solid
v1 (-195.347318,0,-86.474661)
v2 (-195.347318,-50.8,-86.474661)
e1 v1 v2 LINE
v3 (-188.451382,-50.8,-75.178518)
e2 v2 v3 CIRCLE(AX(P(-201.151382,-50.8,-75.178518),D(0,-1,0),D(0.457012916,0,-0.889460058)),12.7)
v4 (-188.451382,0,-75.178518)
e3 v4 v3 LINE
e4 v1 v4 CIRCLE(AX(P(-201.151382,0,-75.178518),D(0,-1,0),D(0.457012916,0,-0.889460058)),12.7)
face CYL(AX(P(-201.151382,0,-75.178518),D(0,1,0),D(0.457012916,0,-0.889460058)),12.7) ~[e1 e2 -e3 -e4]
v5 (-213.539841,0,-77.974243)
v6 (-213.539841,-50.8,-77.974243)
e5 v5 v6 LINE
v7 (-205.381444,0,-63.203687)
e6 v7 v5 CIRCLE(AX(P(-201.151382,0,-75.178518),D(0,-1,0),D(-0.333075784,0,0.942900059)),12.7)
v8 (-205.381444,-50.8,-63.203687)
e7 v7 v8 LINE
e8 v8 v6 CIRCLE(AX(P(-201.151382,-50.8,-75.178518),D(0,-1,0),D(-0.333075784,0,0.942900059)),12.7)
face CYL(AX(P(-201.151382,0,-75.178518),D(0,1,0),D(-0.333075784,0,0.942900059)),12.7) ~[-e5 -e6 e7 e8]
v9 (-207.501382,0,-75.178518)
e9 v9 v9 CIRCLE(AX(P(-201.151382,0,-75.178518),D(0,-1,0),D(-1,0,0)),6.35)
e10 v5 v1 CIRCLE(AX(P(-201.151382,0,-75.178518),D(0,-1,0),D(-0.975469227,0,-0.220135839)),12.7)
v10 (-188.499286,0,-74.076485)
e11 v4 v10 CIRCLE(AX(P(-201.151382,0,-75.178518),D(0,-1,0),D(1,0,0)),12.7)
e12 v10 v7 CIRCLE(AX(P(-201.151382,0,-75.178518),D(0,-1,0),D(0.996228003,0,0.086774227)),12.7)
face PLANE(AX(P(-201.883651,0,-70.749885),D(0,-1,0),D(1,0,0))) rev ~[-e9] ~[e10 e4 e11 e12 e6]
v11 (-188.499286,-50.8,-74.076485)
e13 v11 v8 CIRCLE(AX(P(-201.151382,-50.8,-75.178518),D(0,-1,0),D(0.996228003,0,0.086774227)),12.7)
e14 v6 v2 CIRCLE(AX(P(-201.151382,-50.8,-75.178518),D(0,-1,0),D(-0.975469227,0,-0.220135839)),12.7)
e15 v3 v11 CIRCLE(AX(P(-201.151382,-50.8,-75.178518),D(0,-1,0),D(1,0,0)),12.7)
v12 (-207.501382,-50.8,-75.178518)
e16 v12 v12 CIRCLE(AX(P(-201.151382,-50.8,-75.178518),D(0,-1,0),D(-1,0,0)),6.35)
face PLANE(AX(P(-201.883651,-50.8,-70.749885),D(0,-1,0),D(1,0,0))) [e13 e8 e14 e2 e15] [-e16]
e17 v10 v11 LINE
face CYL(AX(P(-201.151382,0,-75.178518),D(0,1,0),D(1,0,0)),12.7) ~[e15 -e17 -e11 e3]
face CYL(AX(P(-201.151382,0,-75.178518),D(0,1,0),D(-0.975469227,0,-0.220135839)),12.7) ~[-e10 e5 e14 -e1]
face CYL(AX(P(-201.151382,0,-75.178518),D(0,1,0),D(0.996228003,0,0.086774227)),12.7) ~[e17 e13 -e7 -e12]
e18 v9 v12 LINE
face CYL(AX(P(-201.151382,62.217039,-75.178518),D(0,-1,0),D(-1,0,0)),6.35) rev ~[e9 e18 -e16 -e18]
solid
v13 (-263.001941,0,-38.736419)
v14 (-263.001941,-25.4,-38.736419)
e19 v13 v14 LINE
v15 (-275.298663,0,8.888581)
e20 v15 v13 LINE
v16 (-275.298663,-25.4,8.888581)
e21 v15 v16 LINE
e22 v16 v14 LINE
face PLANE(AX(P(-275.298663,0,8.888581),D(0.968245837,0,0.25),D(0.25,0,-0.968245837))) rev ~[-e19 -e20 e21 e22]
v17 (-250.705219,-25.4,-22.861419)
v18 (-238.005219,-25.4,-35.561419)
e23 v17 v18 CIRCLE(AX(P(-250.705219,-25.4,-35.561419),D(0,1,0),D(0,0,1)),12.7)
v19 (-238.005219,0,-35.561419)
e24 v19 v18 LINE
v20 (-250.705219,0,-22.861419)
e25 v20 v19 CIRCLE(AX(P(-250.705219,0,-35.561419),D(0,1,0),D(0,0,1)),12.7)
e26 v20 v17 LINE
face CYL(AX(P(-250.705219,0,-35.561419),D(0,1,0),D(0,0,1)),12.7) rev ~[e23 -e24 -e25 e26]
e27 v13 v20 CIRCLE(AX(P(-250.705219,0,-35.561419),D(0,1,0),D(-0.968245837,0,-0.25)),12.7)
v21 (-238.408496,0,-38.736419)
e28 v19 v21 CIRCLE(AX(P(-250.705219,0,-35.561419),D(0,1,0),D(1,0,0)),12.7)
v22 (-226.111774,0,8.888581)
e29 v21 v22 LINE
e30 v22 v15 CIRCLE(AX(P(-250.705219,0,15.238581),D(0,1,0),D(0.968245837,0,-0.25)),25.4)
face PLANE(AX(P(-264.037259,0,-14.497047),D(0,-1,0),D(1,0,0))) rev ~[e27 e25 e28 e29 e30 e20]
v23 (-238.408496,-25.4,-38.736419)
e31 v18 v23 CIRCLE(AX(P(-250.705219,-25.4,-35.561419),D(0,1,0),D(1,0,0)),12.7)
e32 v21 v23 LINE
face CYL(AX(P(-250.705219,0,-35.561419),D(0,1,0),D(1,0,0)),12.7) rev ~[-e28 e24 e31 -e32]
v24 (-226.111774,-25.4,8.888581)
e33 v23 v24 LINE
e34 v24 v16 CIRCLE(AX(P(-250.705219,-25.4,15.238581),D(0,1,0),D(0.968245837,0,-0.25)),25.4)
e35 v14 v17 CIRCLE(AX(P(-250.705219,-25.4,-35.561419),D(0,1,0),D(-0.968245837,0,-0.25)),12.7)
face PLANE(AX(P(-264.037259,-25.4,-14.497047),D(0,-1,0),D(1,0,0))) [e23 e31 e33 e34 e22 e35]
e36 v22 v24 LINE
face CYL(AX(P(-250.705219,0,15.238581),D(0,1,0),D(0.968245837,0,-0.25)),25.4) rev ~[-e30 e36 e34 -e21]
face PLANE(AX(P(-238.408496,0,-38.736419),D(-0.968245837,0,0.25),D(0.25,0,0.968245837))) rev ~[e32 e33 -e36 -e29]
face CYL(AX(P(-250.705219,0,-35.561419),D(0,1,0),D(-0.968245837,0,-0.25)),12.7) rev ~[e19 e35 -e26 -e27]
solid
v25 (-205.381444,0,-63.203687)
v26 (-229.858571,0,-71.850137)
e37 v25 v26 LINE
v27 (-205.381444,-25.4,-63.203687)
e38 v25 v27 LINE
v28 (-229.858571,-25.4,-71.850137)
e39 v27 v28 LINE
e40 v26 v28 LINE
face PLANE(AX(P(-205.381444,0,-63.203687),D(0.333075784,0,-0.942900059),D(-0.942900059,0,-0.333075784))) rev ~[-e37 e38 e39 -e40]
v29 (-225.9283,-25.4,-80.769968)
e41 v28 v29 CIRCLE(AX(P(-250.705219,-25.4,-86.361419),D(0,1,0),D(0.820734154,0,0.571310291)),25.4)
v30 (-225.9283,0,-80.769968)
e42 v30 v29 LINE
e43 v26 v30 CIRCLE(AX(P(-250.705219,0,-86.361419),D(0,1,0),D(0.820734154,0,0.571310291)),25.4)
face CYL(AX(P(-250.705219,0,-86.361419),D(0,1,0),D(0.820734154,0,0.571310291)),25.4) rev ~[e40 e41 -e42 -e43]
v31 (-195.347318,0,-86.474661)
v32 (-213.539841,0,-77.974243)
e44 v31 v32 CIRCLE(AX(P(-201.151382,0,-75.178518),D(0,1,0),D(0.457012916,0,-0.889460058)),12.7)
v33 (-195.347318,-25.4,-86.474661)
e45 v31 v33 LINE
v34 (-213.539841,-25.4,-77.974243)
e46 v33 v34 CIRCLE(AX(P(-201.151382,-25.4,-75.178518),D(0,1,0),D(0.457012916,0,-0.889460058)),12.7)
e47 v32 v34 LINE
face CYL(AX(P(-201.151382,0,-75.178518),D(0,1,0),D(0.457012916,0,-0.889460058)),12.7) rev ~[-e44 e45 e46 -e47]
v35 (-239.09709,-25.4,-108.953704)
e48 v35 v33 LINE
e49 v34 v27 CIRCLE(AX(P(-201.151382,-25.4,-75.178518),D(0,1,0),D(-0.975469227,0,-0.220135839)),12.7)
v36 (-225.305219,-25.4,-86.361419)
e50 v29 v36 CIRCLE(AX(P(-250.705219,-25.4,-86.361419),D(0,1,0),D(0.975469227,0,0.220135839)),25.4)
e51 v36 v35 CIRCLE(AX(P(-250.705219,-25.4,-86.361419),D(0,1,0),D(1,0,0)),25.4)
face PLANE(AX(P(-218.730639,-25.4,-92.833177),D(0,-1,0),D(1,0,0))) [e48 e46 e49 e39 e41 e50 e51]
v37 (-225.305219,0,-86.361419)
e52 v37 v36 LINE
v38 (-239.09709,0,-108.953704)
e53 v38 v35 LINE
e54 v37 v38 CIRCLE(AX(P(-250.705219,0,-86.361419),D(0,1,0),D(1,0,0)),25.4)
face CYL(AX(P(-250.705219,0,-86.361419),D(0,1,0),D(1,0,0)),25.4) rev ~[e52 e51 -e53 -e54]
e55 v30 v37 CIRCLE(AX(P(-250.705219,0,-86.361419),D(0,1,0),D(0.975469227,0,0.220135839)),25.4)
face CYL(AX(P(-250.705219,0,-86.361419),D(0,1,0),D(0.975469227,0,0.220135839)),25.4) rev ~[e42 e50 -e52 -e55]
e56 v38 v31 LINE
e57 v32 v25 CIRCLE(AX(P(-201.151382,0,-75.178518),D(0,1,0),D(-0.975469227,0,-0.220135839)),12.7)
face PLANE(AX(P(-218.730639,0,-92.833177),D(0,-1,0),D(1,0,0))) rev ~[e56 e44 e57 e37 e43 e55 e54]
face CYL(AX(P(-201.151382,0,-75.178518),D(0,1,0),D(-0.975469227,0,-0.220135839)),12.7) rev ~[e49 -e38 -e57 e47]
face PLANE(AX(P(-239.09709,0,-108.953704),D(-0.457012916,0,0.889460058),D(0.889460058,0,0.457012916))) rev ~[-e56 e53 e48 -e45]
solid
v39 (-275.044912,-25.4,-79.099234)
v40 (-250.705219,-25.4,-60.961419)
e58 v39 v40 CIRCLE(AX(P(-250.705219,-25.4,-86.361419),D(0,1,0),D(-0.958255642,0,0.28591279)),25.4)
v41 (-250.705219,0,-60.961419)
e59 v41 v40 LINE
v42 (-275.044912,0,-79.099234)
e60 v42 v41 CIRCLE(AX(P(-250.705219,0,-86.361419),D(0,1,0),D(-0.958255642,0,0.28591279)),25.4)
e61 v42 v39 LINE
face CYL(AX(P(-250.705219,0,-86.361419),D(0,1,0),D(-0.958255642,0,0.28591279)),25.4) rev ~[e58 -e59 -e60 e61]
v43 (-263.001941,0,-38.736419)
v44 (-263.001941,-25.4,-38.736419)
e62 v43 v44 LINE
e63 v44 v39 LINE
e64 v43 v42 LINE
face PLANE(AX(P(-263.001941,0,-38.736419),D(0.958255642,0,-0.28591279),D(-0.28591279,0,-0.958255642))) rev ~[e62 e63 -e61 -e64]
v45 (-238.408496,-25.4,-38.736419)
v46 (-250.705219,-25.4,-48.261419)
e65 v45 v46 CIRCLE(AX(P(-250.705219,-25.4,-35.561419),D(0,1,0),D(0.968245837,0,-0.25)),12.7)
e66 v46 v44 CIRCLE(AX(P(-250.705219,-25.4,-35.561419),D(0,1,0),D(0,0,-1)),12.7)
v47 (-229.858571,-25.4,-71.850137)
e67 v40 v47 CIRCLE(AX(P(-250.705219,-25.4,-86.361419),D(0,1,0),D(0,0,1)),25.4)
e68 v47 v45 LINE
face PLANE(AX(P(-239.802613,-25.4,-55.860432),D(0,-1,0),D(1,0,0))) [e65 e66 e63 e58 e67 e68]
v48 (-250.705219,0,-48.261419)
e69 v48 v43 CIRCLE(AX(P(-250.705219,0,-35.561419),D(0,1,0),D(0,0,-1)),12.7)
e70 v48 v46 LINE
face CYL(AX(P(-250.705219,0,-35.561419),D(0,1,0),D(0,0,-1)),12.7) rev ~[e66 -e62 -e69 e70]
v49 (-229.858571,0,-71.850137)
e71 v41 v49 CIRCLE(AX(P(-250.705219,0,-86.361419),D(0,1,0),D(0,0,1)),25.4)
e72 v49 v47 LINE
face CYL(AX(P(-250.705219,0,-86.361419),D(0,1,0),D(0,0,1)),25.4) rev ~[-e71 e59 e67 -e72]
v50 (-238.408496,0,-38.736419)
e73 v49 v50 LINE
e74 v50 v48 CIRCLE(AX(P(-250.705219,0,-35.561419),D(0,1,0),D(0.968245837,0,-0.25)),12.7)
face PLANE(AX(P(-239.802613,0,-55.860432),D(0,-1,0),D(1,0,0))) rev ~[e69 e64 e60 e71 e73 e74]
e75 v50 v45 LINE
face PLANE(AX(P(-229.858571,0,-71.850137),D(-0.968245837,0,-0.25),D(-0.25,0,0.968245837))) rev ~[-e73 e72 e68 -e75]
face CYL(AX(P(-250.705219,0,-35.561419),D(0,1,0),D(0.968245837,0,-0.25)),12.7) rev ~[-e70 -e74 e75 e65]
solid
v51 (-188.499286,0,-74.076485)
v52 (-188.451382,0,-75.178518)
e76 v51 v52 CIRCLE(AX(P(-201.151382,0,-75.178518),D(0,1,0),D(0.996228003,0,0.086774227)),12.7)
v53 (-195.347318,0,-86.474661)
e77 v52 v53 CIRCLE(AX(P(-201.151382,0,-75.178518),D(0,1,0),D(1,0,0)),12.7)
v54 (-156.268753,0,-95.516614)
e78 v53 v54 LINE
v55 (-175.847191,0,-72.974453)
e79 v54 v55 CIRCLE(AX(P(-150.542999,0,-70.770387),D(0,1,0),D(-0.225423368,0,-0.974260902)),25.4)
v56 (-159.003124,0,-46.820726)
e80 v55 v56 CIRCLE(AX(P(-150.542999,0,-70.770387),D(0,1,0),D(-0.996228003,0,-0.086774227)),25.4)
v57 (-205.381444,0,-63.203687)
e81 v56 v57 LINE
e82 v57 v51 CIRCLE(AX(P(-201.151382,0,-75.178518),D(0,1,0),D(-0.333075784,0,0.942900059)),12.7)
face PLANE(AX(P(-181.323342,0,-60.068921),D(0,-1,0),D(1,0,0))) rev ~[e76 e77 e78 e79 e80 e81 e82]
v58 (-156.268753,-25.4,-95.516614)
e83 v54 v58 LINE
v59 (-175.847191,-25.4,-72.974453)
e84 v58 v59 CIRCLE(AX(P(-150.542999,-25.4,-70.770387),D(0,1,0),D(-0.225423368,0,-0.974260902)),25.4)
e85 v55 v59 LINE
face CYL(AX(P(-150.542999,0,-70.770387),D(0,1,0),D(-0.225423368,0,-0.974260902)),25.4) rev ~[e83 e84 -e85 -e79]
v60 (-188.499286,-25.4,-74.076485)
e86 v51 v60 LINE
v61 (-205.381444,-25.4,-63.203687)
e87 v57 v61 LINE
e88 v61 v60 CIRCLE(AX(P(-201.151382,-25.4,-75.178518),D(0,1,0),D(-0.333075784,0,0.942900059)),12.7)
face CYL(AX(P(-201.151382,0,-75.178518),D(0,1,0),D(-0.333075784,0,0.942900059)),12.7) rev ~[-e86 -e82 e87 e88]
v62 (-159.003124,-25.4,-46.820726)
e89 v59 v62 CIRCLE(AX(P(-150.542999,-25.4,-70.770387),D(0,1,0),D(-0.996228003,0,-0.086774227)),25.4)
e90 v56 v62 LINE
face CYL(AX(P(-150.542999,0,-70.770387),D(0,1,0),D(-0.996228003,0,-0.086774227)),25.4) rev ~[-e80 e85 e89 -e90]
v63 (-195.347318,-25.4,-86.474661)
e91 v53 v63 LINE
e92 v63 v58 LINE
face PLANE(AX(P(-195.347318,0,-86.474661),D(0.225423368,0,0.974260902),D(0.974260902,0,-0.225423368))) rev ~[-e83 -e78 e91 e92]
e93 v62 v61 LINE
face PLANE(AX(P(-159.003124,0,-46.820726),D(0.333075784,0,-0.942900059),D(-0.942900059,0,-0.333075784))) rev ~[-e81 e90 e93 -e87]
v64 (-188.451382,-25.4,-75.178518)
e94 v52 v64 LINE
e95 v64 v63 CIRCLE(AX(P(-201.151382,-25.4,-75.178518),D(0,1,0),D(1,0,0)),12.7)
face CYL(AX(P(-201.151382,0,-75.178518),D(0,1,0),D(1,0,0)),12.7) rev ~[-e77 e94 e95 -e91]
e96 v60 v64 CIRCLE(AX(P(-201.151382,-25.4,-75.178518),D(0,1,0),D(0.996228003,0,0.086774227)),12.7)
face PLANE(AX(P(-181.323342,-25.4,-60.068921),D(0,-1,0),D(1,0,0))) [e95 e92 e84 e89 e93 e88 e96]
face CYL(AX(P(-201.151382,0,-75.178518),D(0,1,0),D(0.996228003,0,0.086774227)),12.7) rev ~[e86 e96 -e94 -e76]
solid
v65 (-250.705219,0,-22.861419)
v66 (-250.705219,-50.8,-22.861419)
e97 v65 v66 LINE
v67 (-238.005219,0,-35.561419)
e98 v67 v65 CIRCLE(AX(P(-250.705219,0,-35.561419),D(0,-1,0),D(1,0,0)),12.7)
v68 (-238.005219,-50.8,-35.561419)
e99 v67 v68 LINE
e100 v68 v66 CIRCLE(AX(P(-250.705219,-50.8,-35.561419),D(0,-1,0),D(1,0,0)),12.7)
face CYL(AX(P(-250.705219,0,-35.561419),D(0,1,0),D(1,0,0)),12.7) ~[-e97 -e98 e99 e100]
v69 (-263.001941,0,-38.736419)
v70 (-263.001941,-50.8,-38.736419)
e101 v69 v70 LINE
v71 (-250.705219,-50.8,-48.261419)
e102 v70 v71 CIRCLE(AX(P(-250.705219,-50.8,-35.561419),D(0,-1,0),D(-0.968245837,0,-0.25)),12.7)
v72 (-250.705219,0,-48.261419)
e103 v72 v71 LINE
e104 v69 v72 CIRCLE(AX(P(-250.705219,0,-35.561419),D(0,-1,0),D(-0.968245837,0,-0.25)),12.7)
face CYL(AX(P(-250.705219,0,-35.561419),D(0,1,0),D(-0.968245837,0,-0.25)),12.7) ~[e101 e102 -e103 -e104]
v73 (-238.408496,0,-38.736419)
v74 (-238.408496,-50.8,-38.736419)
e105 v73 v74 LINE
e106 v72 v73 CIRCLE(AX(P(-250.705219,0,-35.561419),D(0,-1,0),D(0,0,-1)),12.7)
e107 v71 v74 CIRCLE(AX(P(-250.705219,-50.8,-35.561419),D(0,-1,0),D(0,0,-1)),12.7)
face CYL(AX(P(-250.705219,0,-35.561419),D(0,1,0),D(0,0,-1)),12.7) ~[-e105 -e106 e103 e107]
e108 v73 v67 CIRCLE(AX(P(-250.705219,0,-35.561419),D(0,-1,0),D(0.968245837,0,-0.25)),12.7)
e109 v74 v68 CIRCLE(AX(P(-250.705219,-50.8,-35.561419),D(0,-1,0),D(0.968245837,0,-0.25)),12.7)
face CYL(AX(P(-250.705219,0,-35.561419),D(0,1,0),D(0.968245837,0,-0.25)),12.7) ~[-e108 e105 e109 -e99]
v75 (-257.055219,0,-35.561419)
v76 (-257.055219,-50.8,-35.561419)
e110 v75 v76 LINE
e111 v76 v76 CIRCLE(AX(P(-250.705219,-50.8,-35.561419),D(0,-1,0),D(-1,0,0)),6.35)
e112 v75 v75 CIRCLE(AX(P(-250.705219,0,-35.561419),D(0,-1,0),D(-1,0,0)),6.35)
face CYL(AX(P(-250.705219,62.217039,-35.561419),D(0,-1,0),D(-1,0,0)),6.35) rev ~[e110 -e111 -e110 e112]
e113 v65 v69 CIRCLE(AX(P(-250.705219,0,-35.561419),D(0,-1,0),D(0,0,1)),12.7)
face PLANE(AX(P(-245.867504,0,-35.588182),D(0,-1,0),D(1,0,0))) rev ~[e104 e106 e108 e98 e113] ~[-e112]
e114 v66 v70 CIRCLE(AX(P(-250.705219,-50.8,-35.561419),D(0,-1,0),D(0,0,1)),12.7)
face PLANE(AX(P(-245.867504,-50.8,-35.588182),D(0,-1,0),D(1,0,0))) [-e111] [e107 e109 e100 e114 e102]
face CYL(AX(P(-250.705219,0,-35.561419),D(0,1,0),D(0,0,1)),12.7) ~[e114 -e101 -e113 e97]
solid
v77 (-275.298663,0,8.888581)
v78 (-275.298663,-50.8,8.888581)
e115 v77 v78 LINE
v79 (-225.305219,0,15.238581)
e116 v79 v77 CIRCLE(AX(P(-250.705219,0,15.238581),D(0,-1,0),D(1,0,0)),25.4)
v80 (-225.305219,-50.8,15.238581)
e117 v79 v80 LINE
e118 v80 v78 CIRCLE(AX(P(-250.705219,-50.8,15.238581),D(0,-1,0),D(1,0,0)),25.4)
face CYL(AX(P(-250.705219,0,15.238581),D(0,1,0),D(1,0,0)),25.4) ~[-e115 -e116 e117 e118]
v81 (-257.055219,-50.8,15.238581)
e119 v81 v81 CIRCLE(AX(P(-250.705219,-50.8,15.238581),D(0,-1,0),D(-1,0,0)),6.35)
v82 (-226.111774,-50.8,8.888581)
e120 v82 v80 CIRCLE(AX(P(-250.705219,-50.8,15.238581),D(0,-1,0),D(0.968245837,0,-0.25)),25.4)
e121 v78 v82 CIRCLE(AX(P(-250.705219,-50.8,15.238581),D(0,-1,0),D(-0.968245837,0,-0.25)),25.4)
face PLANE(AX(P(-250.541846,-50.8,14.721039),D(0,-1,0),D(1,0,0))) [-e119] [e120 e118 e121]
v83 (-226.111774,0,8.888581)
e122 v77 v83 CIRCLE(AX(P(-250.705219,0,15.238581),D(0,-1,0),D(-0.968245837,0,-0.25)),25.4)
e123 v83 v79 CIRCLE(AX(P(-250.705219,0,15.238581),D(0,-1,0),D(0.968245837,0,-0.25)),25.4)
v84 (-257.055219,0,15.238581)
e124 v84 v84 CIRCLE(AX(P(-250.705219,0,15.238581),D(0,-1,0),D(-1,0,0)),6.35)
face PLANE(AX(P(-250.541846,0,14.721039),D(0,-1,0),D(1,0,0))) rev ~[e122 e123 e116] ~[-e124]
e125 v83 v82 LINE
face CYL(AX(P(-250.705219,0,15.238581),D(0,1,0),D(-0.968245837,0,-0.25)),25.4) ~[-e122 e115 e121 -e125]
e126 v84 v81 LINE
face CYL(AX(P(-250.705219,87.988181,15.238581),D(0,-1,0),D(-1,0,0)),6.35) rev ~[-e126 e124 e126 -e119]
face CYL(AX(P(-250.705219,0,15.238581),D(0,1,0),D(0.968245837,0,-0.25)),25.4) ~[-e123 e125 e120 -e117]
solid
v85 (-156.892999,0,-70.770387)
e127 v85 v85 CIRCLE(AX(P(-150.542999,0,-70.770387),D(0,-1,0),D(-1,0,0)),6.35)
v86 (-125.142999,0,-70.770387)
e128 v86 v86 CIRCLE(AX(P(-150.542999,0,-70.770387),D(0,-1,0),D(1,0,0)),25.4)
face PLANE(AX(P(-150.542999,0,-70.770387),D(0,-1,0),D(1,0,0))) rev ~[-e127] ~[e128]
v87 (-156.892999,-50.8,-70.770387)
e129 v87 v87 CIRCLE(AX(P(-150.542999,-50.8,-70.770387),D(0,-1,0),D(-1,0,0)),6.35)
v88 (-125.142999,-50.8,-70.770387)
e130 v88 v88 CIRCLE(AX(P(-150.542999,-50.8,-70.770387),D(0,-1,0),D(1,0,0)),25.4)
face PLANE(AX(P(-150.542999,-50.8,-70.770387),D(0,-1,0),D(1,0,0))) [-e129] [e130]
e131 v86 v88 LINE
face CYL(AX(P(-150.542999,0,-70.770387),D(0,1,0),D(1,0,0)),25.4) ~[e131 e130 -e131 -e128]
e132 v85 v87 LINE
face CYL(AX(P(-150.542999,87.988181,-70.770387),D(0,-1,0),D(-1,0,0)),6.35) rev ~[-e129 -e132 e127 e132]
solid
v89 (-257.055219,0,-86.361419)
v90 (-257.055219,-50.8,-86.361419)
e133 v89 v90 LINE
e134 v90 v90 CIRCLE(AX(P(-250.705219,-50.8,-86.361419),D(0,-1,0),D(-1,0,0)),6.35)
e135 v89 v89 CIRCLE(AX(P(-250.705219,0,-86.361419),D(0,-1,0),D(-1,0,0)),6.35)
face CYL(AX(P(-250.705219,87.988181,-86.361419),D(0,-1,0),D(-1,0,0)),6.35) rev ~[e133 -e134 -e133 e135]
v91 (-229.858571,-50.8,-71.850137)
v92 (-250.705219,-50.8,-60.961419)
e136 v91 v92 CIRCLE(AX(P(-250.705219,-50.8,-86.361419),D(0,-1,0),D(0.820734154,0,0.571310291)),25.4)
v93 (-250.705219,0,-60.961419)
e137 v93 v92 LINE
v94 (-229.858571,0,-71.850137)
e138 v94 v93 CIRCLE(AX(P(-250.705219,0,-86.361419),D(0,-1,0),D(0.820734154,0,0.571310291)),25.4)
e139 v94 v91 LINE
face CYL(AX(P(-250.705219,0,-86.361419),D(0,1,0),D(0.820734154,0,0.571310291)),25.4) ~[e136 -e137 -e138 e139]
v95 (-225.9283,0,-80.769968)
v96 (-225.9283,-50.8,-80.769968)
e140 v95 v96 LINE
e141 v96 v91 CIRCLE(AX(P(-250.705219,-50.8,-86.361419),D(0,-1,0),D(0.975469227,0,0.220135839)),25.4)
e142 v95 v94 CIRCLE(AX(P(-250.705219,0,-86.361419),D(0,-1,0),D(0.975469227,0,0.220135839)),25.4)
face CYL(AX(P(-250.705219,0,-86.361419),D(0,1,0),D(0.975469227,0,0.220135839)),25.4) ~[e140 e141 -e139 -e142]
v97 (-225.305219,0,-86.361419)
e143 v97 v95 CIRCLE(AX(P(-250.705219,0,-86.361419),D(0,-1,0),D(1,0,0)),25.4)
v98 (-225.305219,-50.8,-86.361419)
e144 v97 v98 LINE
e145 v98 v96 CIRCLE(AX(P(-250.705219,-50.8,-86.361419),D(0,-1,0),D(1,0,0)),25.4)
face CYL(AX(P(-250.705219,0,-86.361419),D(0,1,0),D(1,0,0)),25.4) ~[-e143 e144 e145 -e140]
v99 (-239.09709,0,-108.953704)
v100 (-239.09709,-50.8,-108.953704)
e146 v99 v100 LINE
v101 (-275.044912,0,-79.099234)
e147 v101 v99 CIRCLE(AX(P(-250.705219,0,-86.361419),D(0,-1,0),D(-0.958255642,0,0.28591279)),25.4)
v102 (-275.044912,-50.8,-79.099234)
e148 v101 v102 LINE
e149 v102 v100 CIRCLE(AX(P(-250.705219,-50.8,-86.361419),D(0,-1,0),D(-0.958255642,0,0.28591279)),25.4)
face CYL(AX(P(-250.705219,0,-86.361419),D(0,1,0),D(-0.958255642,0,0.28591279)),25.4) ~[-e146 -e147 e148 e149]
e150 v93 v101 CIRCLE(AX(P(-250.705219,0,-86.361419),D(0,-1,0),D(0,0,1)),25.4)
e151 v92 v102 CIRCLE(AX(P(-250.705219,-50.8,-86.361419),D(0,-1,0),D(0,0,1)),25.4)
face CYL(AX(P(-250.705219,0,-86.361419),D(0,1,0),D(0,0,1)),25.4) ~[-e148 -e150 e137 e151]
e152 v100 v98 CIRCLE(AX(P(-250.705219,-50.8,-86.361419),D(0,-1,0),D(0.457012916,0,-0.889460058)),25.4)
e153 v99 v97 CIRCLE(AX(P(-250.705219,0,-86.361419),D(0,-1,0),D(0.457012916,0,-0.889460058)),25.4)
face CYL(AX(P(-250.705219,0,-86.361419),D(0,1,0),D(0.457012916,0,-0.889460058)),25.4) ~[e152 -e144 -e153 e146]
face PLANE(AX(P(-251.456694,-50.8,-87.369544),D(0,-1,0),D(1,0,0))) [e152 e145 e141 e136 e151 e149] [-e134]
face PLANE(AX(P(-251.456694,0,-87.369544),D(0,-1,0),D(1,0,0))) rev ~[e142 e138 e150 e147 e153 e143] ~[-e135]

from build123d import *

# Parameters (mm, degrees)
F1_DEPTH = 50.8
F2_DEPTH = 25.4
F3_D     = 6.35
F3_2_D   = 6.35
F3_3_D   = 6.35
F3_4_D   = 6.35
F3_5_D   = 6.35
F4_D     = 12.7
F4_2_D   = 12.7
F4_3_D   = 12.7
F4_4_D   = 12.7
F4_5_D   = 12.7


with BuildPart() as f1:
    # F0 (on Front) → F1 (new body)
    with BuildSketch(Plane.XZ):
        with BuildLine():
            ThreePointArc((-275.2986628223, 8.8885812562), (-266.2594784405, -4.8418818859), (-250.7052185738, -10.1614187438))
            ThreePointArc((-250.7052185738, -10.1614187438), (-235.1509587072, -4.8418818859), (-226.1117743254, 8.8885812562))
            ThreePointArc((-226.1117743254, 8.8885812562), (-225.5076642886, 12.0380722271), (-225.3052185738, 15.2385812562))
            ThreePointArc((-225.3052185738, 15.2385812562), (-253.9057276029, 40.4361355414), (-275.2986628223, 8.8885812562))
        make_face()
    extrude(amount=F1_DEPTH)

    # F3 (through all)
    with Locations(Plane(origin=(0, 0, 0), x_dir=(1, 0, 0), z_dir=(0, 1, 0))):
        with Locations((-250.7052185738, -15.2385812562), (-250.7052185738, 35.5614187438), (-250.7052185738, 86.3614187438), (-201.151381854, 75.1785181209), (-150.5429993109, 70.7703874091)):
            Hole(F3_D / 2)

    # F4 (through all)
    with Locations(Plane(origin=(0, 0, 0), x_dir=(1, 0, 0), z_dir=(0, 1, 0))):
        with Locations((-250.7052185738, -15.2385812562), (-250.7052185738, 35.5614187438), (-250.7052185738, 86.3614187438), (-201.151381854, 75.1785181209), (-150.5429993109, 70.7703874091)):
            Hole(F4_D / 2)


with BuildPart() as f1b:
    # F0 (on Front) → F1, piece 2 (new body)
    with BuildSketch(Plane.XZ):
        with BuildLine():
            ThreePointArc((-238.0052185738, -35.5614187438), (-241.7249624528, -26.5811626228), (-250.7052185738, -22.8614187438))
            Line((-250.7052185738, -22.8614187438), (-250.7052185738, -35.5614187438))
            Line((-250.7052185738, -35.5614187438), (-250.7052185738, -48.2614187438))
            ThreePointArc((-250.7052185738, -48.2614187438), (-242.9280886405, -45.6016503149), (-238.4084964496, -38.7364187438))
            ThreePointArc((-238.4084964496, -38.7364187438), (-238.1064414312, -37.1616732584), (-238.0052185738, -35.5614187438))
        make_face()
        with BuildLine():
            Line((-250.7052185738, -35.5614187438), (-250.7052185738, -22.8614187438))
            ThreePointArc((-250.7052185738, -22.8614187438), (-260.7454501449, -27.7842888105), (-263.001940698, -38.7364187438))
            ThreePointArc((-263.001940698, -38.7364187438), (-258.4823485072, -45.6016503149), (-250.7052185738, -48.2614187438))
            Line((-250.7052185738, -48.2614187438), (-250.7052185738, -35.5614187438))
        make_face()
    extrude(amount=F1_DEPTH)

    # F3#2 (through all)
    with Locations(Plane(origin=(0, 0, 0), x_dir=(1, 0, 0), z_dir=(0, 1, 0))):
        with Locations((-250.7052185738, -15.2385812562), (-250.7052185738, 35.5614187438), (-250.7052185738, 86.3614187438), (-201.151381854, 75.1785181209), (-150.5429993109, 70.7703874091)):
            Hole(F3_2_D / 2)

    # F4#2 (through all)
    with Locations(Plane(origin=(0, 0, 0), x_dir=(1, 0, 0), z_dir=(0, 1, 0))):
        with Locations((-250.7052185738, -15.2385812562), (-250.7052185738, 35.5614187438), (-250.7052185738, 86.3614187438), (-201.151381854, 75.1785181209), (-150.5429993109, 70.7703874091)):
            Hole(F4_2_D / 2)


with BuildPart() as f1c:
    # F0 (on Front) → F1, piece 3 (new body)
    with BuildSketch(Plane.XZ):
        with BuildLine():
            ThreePointArc((-250.7052185738, -60.9614187438), (-265.8825125384, -65.9945400455), (-275.0449118924, -79.0992338688))
            ThreePointArc((-275.0449118924, -79.0992338688), (-266.9331432174, -105.901491972), (-239.0970904995, -108.9537042105))
            ThreePointArc((-239.0970904995, -108.9537042105), (-229.0256607706, -99.5960994523), (-225.3052185738, -86.3614187438))
            ThreePointArc((-225.3052185738, -86.3614187438), (-225.4614695818, -83.548388913), (-225.9283002139, -80.7699684324))
            Line((-225.9283002139, -80.7699684324), (-250.7052185738, -86.3614187438))
            Line((-250.7052185738, -86.3614187438), (-250.7052185738, -60.9614187438))
        make_face()
        with BuildLine():
            ThreePointArc((-225.9283002139, -80.7699684324), (-227.4615465931, -76.1197532128), (-229.8585710724, -71.850137341))
            ThreePointArc((-229.8585710724, -71.850137341), (-238.945680905, -63.847572475), (-250.7052185738, -60.9614187438))
            Line((-250.7052185738, -60.9614187438), (-250.7052185738, -86.3614187438))
            Line((-250.7052185738, -86.3614187438), (-225.9283002139, -80.7699684324))
        make_face()
    extrude(amount=F1_DEPTH)

    # F3#3 (through all)
    with Locations(Plane(origin=(0, 0, 0), x_dir=(1, 0, 0), z_dir=(0, 1, 0))):
        with Locations((-250.7052185738, -15.2385812562), (-250.7052185738, 35.5614187438), (-250.7052185738, 86.3614187438), (-201.151381854, 75.1785181209), (-150.5429993109, 70.7703874091)):
            Hole(F3_3_D / 2)

    # F4#3 (through all)
    with Locations(Plane(origin=(0, 0, 0), x_dir=(1, 0, 0), z_dir=(0, 1, 0))):
        with Locations((-250.7052185738, -15.2385812562), (-250.7052185738, 35.5614187438), (-250.7052185738, 86.3614187438), (-201.151381854, 75.1785181209), (-150.5429993109, 70.7703874091)):
            Hole(F4_3_D / 2)


with BuildPart() as f1d:
    # F0 (on Front) → F1, piece 4 (new body)
    with BuildSketch(Plane.XZ):
        with BuildLine():
            ThreePointArc((-188.4992862182, -74.076485443), (-194.2748205624, -64.5013038399), (-205.3814443151, -63.2036873674))
            ThreePointArc((-205.3814443151, -63.2036873674), (-212.2683124488, -69.0381717016), (-213.5398410339, -77.9742432766))
            Line((-213.5398410339, -77.9742432766), (-201.151381854, -75.1785181209))
            Line((-201.151381854, -75.1785181209), (-188.4992862182, -74.076485443))
        make_face()
        with BuildLine():
            ThreePointArc((-213.5398410339, -77.9742432766), (-206.5275179755, -86.6844800712), (-195.3473178168, -86.4746608543))
            ThreePointArc((-195.3473178168, -86.4746608543), (-190.3116029524, -81.7958584752), (-188.451381854, -75.1785181209))
            ThreePointArc((-188.451381854, -75.1785181209), (-188.4633635971, -74.6269814378), (-188.4992862182, -74.076485443))
            Line((-188.4992862182, -74.076485443), (-201.151381854, -75.1785181209))
            Line((-201.151381854, -75.1785181209), (-213.5398410339, -77.9742432766))
        make_face()
    extrude(amount=F1_DEPTH)

    # F3#4 (through all)
    with Locations(Plane(origin=(0, 0, 0), x_dir=(1, 0, 0), z_dir=(0, 1, 0))):
        with Locations((-250.7052185738, -15.2385812562), (-250.7052185738, 35.5614187438), (-250.7052185738, 86.3614187438), (-201.151381854, 75.1785181209), (-150.5429993109, 70.7703874091)):
            Hole(F3_4_D / 2)

    # F4#4 (through all)
    with Locations(Plane(origin=(0, 0, 0), x_dir=(1, 0, 0), z_dir=(0, 1, 0))):
        with Locations((-250.7052185738, -15.2385812562), (-250.7052185738, 35.5614187438), (-250.7052185738, 86.3614187438), (-201.151381854, 75.1785181209), (-150.5429993109, 70.7703874091)):
            Hole(F4_4_D / 2)


with BuildPart() as f1e:
    # F0 (on Front) → F1, piece 5 (new body)
    with BuildSketch(Plane.XZ):
        with BuildLine():
            ThreePointArc((-125.1429993109, -70.7703874091), (-135.8754700886, -50.0333773423), (-159.0031242331, -46.8207259021))
            ThreePointArc((-159.0031242331, -46.8207259021), (-171.897427873, -57.017264826), (-175.8471905824, -72.974452765))
            ThreePointArc((-175.8471905824, -72.974452765), (-169.7198507425, -87.4259681306), (-156.268752864, -95.5166143185))
            ThreePointArc((-156.268752864, -95.5166143185), (-134.7359461423, -90.6524665289), (-125.1429993109, -70.7703874091))
        make_face()
    extrude(amount=F1_DEPTH)

    # F3#5 (through all)
    with Locations(Plane(origin=(0, 0, 0), x_dir=(1, 0, 0), z_dir=(0, 1, 0))):
        with Locations((-250.7052185738, -15.2385812562), (-250.7052185738, 35.5614187438), (-250.7052185738, 86.3614187438), (-201.151381854, 75.1785181209), (-150.5429993109, 70.7703874091)):
            Hole(F3_5_D / 2)

    # F4#5 (through all)
    with Locations(Plane(origin=(0, 0, 0), x_dir=(1, 0, 0), z_dir=(0, 1, 0))):
        with Locations((-250.7052185738, -15.2385812562), (-250.7052185738, 35.5614187438), (-250.7052185738, 86.3614187438), (-201.151381854, 75.1785181209), (-150.5429993109, 70.7703874091)):
            Hole(F4_5_D / 2)


with BuildPart() as f2:
    # F0 (on Front) → F2 (new body)
    with BuildSketch(Plane.XZ):
        with BuildLine():
            Line((-250.7052185738, -22.8614187438), (-250.7052185738, -10.1614187438))
            ThreePointArc((-250.7052185738, -10.1614187438), (-266.2594784405, -4.8418818859), (-275.2986628223, 8.8885812562))
            Line((-275.2986628223, 8.8885812562), (-263.001940698, -38.7364187438))
            ThreePointArc((-263.001940698, -38.7364187438), (-260.7454501449, -27.7842888105), (-250.7052185738, -22.8614187438))
        make_face()
        with BuildLine():
            ThreePointArc((-226.1117743254, 8.8885812562), (-235.1509587072, -4.8418818859), (-250.7052185738, -10.1614187438))
            Line((-250.7052185738, -10.1614187438), (-250.7052185738, -22.8614187438))
            ThreePointArc((-250.7052185738, -22.8614187438), (-241.7249624528, -26.5811626228), (-238.0052185738, -35.5614187438))
            ThreePointArc((-238.0052185738, -35.5614187438), (-238.1064414312, -37.1616732584), (-238.4084964496, -38.7364187438))
            Line((-238.4084964496, -38.7364187438), (-226.1117743254, 8.8885812562))
        make_face()
    extrude(amount=F2_DEPTH)


with BuildPart() as f2b:
    # F0 (on Front) → F2, piece 2 (new body)
    with BuildSketch(Plane.XZ):
        with BuildLine():
            Line((-229.8585710724, -71.850137341), (-238.4084964496, -38.7364187438))
            ThreePointArc((-238.4084964496, -38.7364187438), (-242.9280886405, -45.6016503149), (-250.7052185738, -48.2614187438))
            Line((-250.7052185738, -48.2614187438), (-250.7052185738, -60.9614187438))
            ThreePointArc((-250.7052185738, -60.9614187438), (-238.945680905, -63.847572475), (-229.8585710724, -71.850137341))
        make_face()
        with BuildLine():
            ThreePointArc((-250.7052185738, -48.2614187438), (-258.4823485072, -45.6016503149), (-263.001940698, -38.7364187438))
            Line((-263.001940698, -38.7364187438), (-275.0449118924, -79.0992338688))
            ThreePointArc((-275.0449118924, -79.0992338688), (-265.8825125384, -65.9945400455), (-250.7052185738, -60.9614187438))
            Line((-250.7052185738, -60.9614187438), (-250.7052185738, -48.2614187438))
        make_face()
    extrude(amount=F2_DEPTH)


with BuildPart() as f2c:
    # F0 (on Front) → F2, piece 3 (new body)
    with BuildSketch(Plane.XZ):
        with BuildLine():
            Line((-159.0031242331, -46.8207259021), (-205.3814443151, -63.2036873674))
            ThreePointArc((-205.3814443151, -63.2036873674), (-194.2748205624, -64.5013038399), (-188.4992862182, -74.076485443))
            Line((-188.4992862182, -74.076485443), (-175.8471905824, -72.974452765))
            ThreePointArc((-175.8471905824, -72.974452765), (-171.897427873, -57.017264826), (-159.0031242331, -46.8207259021))
        make_face()
        with BuildLine():
            ThreePointArc((-188.451381854, -75.1785181209), (-190.3116029524, -81.7958584752), (-195.3473178168, -86.4746608543))
            Line((-195.3473178168, -86.4746608543), (-156.268752864, -95.5166143185))
            ThreePointArc((-156.268752864, -95.5166143185), (-169.7198507425, -87.4259681306), (-175.8471905824, -72.974452765))
            Line((-175.8471905824, -72.974452765), (-188.4992862182, -74.076485443))
            ThreePointArc((-188.4992862182, -74.076485443), (-188.4633635971, -74.6269814378), (-188.451381854, -75.1785181209))
        make_face()
    extrude(amount=F2_DEPTH)


with BuildPart() as f2d:
    # F0 (on Front) → F2, piece 4 (new body)
    with BuildSketch(Plane.XZ):
        with BuildLine():
            ThreePointArc((-225.3052185738, -86.3614187438), (-229.0256607706, -99.5960994523), (-239.0970904995, -108.9537042105))
            Line((-239.0970904995, -108.9537042105), (-195.3473178168, -86.4746608543))
            ThreePointArc((-195.3473178168, -86.4746608543), (-206.5275179755, -86.6844800712), (-213.5398410339, -77.9742432766))
            Line((-213.5398410339, -77.9742432766), (-225.9283002139, -80.7699684324))
            ThreePointArc((-225.9283002139, -80.7699684324), (-225.4614695818, -83.548388913), (-225.3052185738, -86.3614187438))
        make_face()
        with BuildLine():
            Line((-205.3814443151, -63.2036873674), (-229.8585710724, -71.850137341))
            ThreePointArc((-229.8585710724, -71.850137341), (-227.4615465931, -76.1197532128), (-225.9283002139, -80.7699684324))
            Line((-225.9283002139, -80.7699684324), (-213.5398410339, -77.9742432766))
            ThreePointArc((-213.5398410339, -77.9742432766), (-212.2683124488, -69.0381717016), (-205.3814443151, -63.2036873674))
        make_face()
    extrude(amount=F2_DEPTH)


solid = Compound([f1.part, f1b.part, f1c.part, f1d.part, f1e.part, f2.part, f2b.part, f2c.part, f2d.part])
